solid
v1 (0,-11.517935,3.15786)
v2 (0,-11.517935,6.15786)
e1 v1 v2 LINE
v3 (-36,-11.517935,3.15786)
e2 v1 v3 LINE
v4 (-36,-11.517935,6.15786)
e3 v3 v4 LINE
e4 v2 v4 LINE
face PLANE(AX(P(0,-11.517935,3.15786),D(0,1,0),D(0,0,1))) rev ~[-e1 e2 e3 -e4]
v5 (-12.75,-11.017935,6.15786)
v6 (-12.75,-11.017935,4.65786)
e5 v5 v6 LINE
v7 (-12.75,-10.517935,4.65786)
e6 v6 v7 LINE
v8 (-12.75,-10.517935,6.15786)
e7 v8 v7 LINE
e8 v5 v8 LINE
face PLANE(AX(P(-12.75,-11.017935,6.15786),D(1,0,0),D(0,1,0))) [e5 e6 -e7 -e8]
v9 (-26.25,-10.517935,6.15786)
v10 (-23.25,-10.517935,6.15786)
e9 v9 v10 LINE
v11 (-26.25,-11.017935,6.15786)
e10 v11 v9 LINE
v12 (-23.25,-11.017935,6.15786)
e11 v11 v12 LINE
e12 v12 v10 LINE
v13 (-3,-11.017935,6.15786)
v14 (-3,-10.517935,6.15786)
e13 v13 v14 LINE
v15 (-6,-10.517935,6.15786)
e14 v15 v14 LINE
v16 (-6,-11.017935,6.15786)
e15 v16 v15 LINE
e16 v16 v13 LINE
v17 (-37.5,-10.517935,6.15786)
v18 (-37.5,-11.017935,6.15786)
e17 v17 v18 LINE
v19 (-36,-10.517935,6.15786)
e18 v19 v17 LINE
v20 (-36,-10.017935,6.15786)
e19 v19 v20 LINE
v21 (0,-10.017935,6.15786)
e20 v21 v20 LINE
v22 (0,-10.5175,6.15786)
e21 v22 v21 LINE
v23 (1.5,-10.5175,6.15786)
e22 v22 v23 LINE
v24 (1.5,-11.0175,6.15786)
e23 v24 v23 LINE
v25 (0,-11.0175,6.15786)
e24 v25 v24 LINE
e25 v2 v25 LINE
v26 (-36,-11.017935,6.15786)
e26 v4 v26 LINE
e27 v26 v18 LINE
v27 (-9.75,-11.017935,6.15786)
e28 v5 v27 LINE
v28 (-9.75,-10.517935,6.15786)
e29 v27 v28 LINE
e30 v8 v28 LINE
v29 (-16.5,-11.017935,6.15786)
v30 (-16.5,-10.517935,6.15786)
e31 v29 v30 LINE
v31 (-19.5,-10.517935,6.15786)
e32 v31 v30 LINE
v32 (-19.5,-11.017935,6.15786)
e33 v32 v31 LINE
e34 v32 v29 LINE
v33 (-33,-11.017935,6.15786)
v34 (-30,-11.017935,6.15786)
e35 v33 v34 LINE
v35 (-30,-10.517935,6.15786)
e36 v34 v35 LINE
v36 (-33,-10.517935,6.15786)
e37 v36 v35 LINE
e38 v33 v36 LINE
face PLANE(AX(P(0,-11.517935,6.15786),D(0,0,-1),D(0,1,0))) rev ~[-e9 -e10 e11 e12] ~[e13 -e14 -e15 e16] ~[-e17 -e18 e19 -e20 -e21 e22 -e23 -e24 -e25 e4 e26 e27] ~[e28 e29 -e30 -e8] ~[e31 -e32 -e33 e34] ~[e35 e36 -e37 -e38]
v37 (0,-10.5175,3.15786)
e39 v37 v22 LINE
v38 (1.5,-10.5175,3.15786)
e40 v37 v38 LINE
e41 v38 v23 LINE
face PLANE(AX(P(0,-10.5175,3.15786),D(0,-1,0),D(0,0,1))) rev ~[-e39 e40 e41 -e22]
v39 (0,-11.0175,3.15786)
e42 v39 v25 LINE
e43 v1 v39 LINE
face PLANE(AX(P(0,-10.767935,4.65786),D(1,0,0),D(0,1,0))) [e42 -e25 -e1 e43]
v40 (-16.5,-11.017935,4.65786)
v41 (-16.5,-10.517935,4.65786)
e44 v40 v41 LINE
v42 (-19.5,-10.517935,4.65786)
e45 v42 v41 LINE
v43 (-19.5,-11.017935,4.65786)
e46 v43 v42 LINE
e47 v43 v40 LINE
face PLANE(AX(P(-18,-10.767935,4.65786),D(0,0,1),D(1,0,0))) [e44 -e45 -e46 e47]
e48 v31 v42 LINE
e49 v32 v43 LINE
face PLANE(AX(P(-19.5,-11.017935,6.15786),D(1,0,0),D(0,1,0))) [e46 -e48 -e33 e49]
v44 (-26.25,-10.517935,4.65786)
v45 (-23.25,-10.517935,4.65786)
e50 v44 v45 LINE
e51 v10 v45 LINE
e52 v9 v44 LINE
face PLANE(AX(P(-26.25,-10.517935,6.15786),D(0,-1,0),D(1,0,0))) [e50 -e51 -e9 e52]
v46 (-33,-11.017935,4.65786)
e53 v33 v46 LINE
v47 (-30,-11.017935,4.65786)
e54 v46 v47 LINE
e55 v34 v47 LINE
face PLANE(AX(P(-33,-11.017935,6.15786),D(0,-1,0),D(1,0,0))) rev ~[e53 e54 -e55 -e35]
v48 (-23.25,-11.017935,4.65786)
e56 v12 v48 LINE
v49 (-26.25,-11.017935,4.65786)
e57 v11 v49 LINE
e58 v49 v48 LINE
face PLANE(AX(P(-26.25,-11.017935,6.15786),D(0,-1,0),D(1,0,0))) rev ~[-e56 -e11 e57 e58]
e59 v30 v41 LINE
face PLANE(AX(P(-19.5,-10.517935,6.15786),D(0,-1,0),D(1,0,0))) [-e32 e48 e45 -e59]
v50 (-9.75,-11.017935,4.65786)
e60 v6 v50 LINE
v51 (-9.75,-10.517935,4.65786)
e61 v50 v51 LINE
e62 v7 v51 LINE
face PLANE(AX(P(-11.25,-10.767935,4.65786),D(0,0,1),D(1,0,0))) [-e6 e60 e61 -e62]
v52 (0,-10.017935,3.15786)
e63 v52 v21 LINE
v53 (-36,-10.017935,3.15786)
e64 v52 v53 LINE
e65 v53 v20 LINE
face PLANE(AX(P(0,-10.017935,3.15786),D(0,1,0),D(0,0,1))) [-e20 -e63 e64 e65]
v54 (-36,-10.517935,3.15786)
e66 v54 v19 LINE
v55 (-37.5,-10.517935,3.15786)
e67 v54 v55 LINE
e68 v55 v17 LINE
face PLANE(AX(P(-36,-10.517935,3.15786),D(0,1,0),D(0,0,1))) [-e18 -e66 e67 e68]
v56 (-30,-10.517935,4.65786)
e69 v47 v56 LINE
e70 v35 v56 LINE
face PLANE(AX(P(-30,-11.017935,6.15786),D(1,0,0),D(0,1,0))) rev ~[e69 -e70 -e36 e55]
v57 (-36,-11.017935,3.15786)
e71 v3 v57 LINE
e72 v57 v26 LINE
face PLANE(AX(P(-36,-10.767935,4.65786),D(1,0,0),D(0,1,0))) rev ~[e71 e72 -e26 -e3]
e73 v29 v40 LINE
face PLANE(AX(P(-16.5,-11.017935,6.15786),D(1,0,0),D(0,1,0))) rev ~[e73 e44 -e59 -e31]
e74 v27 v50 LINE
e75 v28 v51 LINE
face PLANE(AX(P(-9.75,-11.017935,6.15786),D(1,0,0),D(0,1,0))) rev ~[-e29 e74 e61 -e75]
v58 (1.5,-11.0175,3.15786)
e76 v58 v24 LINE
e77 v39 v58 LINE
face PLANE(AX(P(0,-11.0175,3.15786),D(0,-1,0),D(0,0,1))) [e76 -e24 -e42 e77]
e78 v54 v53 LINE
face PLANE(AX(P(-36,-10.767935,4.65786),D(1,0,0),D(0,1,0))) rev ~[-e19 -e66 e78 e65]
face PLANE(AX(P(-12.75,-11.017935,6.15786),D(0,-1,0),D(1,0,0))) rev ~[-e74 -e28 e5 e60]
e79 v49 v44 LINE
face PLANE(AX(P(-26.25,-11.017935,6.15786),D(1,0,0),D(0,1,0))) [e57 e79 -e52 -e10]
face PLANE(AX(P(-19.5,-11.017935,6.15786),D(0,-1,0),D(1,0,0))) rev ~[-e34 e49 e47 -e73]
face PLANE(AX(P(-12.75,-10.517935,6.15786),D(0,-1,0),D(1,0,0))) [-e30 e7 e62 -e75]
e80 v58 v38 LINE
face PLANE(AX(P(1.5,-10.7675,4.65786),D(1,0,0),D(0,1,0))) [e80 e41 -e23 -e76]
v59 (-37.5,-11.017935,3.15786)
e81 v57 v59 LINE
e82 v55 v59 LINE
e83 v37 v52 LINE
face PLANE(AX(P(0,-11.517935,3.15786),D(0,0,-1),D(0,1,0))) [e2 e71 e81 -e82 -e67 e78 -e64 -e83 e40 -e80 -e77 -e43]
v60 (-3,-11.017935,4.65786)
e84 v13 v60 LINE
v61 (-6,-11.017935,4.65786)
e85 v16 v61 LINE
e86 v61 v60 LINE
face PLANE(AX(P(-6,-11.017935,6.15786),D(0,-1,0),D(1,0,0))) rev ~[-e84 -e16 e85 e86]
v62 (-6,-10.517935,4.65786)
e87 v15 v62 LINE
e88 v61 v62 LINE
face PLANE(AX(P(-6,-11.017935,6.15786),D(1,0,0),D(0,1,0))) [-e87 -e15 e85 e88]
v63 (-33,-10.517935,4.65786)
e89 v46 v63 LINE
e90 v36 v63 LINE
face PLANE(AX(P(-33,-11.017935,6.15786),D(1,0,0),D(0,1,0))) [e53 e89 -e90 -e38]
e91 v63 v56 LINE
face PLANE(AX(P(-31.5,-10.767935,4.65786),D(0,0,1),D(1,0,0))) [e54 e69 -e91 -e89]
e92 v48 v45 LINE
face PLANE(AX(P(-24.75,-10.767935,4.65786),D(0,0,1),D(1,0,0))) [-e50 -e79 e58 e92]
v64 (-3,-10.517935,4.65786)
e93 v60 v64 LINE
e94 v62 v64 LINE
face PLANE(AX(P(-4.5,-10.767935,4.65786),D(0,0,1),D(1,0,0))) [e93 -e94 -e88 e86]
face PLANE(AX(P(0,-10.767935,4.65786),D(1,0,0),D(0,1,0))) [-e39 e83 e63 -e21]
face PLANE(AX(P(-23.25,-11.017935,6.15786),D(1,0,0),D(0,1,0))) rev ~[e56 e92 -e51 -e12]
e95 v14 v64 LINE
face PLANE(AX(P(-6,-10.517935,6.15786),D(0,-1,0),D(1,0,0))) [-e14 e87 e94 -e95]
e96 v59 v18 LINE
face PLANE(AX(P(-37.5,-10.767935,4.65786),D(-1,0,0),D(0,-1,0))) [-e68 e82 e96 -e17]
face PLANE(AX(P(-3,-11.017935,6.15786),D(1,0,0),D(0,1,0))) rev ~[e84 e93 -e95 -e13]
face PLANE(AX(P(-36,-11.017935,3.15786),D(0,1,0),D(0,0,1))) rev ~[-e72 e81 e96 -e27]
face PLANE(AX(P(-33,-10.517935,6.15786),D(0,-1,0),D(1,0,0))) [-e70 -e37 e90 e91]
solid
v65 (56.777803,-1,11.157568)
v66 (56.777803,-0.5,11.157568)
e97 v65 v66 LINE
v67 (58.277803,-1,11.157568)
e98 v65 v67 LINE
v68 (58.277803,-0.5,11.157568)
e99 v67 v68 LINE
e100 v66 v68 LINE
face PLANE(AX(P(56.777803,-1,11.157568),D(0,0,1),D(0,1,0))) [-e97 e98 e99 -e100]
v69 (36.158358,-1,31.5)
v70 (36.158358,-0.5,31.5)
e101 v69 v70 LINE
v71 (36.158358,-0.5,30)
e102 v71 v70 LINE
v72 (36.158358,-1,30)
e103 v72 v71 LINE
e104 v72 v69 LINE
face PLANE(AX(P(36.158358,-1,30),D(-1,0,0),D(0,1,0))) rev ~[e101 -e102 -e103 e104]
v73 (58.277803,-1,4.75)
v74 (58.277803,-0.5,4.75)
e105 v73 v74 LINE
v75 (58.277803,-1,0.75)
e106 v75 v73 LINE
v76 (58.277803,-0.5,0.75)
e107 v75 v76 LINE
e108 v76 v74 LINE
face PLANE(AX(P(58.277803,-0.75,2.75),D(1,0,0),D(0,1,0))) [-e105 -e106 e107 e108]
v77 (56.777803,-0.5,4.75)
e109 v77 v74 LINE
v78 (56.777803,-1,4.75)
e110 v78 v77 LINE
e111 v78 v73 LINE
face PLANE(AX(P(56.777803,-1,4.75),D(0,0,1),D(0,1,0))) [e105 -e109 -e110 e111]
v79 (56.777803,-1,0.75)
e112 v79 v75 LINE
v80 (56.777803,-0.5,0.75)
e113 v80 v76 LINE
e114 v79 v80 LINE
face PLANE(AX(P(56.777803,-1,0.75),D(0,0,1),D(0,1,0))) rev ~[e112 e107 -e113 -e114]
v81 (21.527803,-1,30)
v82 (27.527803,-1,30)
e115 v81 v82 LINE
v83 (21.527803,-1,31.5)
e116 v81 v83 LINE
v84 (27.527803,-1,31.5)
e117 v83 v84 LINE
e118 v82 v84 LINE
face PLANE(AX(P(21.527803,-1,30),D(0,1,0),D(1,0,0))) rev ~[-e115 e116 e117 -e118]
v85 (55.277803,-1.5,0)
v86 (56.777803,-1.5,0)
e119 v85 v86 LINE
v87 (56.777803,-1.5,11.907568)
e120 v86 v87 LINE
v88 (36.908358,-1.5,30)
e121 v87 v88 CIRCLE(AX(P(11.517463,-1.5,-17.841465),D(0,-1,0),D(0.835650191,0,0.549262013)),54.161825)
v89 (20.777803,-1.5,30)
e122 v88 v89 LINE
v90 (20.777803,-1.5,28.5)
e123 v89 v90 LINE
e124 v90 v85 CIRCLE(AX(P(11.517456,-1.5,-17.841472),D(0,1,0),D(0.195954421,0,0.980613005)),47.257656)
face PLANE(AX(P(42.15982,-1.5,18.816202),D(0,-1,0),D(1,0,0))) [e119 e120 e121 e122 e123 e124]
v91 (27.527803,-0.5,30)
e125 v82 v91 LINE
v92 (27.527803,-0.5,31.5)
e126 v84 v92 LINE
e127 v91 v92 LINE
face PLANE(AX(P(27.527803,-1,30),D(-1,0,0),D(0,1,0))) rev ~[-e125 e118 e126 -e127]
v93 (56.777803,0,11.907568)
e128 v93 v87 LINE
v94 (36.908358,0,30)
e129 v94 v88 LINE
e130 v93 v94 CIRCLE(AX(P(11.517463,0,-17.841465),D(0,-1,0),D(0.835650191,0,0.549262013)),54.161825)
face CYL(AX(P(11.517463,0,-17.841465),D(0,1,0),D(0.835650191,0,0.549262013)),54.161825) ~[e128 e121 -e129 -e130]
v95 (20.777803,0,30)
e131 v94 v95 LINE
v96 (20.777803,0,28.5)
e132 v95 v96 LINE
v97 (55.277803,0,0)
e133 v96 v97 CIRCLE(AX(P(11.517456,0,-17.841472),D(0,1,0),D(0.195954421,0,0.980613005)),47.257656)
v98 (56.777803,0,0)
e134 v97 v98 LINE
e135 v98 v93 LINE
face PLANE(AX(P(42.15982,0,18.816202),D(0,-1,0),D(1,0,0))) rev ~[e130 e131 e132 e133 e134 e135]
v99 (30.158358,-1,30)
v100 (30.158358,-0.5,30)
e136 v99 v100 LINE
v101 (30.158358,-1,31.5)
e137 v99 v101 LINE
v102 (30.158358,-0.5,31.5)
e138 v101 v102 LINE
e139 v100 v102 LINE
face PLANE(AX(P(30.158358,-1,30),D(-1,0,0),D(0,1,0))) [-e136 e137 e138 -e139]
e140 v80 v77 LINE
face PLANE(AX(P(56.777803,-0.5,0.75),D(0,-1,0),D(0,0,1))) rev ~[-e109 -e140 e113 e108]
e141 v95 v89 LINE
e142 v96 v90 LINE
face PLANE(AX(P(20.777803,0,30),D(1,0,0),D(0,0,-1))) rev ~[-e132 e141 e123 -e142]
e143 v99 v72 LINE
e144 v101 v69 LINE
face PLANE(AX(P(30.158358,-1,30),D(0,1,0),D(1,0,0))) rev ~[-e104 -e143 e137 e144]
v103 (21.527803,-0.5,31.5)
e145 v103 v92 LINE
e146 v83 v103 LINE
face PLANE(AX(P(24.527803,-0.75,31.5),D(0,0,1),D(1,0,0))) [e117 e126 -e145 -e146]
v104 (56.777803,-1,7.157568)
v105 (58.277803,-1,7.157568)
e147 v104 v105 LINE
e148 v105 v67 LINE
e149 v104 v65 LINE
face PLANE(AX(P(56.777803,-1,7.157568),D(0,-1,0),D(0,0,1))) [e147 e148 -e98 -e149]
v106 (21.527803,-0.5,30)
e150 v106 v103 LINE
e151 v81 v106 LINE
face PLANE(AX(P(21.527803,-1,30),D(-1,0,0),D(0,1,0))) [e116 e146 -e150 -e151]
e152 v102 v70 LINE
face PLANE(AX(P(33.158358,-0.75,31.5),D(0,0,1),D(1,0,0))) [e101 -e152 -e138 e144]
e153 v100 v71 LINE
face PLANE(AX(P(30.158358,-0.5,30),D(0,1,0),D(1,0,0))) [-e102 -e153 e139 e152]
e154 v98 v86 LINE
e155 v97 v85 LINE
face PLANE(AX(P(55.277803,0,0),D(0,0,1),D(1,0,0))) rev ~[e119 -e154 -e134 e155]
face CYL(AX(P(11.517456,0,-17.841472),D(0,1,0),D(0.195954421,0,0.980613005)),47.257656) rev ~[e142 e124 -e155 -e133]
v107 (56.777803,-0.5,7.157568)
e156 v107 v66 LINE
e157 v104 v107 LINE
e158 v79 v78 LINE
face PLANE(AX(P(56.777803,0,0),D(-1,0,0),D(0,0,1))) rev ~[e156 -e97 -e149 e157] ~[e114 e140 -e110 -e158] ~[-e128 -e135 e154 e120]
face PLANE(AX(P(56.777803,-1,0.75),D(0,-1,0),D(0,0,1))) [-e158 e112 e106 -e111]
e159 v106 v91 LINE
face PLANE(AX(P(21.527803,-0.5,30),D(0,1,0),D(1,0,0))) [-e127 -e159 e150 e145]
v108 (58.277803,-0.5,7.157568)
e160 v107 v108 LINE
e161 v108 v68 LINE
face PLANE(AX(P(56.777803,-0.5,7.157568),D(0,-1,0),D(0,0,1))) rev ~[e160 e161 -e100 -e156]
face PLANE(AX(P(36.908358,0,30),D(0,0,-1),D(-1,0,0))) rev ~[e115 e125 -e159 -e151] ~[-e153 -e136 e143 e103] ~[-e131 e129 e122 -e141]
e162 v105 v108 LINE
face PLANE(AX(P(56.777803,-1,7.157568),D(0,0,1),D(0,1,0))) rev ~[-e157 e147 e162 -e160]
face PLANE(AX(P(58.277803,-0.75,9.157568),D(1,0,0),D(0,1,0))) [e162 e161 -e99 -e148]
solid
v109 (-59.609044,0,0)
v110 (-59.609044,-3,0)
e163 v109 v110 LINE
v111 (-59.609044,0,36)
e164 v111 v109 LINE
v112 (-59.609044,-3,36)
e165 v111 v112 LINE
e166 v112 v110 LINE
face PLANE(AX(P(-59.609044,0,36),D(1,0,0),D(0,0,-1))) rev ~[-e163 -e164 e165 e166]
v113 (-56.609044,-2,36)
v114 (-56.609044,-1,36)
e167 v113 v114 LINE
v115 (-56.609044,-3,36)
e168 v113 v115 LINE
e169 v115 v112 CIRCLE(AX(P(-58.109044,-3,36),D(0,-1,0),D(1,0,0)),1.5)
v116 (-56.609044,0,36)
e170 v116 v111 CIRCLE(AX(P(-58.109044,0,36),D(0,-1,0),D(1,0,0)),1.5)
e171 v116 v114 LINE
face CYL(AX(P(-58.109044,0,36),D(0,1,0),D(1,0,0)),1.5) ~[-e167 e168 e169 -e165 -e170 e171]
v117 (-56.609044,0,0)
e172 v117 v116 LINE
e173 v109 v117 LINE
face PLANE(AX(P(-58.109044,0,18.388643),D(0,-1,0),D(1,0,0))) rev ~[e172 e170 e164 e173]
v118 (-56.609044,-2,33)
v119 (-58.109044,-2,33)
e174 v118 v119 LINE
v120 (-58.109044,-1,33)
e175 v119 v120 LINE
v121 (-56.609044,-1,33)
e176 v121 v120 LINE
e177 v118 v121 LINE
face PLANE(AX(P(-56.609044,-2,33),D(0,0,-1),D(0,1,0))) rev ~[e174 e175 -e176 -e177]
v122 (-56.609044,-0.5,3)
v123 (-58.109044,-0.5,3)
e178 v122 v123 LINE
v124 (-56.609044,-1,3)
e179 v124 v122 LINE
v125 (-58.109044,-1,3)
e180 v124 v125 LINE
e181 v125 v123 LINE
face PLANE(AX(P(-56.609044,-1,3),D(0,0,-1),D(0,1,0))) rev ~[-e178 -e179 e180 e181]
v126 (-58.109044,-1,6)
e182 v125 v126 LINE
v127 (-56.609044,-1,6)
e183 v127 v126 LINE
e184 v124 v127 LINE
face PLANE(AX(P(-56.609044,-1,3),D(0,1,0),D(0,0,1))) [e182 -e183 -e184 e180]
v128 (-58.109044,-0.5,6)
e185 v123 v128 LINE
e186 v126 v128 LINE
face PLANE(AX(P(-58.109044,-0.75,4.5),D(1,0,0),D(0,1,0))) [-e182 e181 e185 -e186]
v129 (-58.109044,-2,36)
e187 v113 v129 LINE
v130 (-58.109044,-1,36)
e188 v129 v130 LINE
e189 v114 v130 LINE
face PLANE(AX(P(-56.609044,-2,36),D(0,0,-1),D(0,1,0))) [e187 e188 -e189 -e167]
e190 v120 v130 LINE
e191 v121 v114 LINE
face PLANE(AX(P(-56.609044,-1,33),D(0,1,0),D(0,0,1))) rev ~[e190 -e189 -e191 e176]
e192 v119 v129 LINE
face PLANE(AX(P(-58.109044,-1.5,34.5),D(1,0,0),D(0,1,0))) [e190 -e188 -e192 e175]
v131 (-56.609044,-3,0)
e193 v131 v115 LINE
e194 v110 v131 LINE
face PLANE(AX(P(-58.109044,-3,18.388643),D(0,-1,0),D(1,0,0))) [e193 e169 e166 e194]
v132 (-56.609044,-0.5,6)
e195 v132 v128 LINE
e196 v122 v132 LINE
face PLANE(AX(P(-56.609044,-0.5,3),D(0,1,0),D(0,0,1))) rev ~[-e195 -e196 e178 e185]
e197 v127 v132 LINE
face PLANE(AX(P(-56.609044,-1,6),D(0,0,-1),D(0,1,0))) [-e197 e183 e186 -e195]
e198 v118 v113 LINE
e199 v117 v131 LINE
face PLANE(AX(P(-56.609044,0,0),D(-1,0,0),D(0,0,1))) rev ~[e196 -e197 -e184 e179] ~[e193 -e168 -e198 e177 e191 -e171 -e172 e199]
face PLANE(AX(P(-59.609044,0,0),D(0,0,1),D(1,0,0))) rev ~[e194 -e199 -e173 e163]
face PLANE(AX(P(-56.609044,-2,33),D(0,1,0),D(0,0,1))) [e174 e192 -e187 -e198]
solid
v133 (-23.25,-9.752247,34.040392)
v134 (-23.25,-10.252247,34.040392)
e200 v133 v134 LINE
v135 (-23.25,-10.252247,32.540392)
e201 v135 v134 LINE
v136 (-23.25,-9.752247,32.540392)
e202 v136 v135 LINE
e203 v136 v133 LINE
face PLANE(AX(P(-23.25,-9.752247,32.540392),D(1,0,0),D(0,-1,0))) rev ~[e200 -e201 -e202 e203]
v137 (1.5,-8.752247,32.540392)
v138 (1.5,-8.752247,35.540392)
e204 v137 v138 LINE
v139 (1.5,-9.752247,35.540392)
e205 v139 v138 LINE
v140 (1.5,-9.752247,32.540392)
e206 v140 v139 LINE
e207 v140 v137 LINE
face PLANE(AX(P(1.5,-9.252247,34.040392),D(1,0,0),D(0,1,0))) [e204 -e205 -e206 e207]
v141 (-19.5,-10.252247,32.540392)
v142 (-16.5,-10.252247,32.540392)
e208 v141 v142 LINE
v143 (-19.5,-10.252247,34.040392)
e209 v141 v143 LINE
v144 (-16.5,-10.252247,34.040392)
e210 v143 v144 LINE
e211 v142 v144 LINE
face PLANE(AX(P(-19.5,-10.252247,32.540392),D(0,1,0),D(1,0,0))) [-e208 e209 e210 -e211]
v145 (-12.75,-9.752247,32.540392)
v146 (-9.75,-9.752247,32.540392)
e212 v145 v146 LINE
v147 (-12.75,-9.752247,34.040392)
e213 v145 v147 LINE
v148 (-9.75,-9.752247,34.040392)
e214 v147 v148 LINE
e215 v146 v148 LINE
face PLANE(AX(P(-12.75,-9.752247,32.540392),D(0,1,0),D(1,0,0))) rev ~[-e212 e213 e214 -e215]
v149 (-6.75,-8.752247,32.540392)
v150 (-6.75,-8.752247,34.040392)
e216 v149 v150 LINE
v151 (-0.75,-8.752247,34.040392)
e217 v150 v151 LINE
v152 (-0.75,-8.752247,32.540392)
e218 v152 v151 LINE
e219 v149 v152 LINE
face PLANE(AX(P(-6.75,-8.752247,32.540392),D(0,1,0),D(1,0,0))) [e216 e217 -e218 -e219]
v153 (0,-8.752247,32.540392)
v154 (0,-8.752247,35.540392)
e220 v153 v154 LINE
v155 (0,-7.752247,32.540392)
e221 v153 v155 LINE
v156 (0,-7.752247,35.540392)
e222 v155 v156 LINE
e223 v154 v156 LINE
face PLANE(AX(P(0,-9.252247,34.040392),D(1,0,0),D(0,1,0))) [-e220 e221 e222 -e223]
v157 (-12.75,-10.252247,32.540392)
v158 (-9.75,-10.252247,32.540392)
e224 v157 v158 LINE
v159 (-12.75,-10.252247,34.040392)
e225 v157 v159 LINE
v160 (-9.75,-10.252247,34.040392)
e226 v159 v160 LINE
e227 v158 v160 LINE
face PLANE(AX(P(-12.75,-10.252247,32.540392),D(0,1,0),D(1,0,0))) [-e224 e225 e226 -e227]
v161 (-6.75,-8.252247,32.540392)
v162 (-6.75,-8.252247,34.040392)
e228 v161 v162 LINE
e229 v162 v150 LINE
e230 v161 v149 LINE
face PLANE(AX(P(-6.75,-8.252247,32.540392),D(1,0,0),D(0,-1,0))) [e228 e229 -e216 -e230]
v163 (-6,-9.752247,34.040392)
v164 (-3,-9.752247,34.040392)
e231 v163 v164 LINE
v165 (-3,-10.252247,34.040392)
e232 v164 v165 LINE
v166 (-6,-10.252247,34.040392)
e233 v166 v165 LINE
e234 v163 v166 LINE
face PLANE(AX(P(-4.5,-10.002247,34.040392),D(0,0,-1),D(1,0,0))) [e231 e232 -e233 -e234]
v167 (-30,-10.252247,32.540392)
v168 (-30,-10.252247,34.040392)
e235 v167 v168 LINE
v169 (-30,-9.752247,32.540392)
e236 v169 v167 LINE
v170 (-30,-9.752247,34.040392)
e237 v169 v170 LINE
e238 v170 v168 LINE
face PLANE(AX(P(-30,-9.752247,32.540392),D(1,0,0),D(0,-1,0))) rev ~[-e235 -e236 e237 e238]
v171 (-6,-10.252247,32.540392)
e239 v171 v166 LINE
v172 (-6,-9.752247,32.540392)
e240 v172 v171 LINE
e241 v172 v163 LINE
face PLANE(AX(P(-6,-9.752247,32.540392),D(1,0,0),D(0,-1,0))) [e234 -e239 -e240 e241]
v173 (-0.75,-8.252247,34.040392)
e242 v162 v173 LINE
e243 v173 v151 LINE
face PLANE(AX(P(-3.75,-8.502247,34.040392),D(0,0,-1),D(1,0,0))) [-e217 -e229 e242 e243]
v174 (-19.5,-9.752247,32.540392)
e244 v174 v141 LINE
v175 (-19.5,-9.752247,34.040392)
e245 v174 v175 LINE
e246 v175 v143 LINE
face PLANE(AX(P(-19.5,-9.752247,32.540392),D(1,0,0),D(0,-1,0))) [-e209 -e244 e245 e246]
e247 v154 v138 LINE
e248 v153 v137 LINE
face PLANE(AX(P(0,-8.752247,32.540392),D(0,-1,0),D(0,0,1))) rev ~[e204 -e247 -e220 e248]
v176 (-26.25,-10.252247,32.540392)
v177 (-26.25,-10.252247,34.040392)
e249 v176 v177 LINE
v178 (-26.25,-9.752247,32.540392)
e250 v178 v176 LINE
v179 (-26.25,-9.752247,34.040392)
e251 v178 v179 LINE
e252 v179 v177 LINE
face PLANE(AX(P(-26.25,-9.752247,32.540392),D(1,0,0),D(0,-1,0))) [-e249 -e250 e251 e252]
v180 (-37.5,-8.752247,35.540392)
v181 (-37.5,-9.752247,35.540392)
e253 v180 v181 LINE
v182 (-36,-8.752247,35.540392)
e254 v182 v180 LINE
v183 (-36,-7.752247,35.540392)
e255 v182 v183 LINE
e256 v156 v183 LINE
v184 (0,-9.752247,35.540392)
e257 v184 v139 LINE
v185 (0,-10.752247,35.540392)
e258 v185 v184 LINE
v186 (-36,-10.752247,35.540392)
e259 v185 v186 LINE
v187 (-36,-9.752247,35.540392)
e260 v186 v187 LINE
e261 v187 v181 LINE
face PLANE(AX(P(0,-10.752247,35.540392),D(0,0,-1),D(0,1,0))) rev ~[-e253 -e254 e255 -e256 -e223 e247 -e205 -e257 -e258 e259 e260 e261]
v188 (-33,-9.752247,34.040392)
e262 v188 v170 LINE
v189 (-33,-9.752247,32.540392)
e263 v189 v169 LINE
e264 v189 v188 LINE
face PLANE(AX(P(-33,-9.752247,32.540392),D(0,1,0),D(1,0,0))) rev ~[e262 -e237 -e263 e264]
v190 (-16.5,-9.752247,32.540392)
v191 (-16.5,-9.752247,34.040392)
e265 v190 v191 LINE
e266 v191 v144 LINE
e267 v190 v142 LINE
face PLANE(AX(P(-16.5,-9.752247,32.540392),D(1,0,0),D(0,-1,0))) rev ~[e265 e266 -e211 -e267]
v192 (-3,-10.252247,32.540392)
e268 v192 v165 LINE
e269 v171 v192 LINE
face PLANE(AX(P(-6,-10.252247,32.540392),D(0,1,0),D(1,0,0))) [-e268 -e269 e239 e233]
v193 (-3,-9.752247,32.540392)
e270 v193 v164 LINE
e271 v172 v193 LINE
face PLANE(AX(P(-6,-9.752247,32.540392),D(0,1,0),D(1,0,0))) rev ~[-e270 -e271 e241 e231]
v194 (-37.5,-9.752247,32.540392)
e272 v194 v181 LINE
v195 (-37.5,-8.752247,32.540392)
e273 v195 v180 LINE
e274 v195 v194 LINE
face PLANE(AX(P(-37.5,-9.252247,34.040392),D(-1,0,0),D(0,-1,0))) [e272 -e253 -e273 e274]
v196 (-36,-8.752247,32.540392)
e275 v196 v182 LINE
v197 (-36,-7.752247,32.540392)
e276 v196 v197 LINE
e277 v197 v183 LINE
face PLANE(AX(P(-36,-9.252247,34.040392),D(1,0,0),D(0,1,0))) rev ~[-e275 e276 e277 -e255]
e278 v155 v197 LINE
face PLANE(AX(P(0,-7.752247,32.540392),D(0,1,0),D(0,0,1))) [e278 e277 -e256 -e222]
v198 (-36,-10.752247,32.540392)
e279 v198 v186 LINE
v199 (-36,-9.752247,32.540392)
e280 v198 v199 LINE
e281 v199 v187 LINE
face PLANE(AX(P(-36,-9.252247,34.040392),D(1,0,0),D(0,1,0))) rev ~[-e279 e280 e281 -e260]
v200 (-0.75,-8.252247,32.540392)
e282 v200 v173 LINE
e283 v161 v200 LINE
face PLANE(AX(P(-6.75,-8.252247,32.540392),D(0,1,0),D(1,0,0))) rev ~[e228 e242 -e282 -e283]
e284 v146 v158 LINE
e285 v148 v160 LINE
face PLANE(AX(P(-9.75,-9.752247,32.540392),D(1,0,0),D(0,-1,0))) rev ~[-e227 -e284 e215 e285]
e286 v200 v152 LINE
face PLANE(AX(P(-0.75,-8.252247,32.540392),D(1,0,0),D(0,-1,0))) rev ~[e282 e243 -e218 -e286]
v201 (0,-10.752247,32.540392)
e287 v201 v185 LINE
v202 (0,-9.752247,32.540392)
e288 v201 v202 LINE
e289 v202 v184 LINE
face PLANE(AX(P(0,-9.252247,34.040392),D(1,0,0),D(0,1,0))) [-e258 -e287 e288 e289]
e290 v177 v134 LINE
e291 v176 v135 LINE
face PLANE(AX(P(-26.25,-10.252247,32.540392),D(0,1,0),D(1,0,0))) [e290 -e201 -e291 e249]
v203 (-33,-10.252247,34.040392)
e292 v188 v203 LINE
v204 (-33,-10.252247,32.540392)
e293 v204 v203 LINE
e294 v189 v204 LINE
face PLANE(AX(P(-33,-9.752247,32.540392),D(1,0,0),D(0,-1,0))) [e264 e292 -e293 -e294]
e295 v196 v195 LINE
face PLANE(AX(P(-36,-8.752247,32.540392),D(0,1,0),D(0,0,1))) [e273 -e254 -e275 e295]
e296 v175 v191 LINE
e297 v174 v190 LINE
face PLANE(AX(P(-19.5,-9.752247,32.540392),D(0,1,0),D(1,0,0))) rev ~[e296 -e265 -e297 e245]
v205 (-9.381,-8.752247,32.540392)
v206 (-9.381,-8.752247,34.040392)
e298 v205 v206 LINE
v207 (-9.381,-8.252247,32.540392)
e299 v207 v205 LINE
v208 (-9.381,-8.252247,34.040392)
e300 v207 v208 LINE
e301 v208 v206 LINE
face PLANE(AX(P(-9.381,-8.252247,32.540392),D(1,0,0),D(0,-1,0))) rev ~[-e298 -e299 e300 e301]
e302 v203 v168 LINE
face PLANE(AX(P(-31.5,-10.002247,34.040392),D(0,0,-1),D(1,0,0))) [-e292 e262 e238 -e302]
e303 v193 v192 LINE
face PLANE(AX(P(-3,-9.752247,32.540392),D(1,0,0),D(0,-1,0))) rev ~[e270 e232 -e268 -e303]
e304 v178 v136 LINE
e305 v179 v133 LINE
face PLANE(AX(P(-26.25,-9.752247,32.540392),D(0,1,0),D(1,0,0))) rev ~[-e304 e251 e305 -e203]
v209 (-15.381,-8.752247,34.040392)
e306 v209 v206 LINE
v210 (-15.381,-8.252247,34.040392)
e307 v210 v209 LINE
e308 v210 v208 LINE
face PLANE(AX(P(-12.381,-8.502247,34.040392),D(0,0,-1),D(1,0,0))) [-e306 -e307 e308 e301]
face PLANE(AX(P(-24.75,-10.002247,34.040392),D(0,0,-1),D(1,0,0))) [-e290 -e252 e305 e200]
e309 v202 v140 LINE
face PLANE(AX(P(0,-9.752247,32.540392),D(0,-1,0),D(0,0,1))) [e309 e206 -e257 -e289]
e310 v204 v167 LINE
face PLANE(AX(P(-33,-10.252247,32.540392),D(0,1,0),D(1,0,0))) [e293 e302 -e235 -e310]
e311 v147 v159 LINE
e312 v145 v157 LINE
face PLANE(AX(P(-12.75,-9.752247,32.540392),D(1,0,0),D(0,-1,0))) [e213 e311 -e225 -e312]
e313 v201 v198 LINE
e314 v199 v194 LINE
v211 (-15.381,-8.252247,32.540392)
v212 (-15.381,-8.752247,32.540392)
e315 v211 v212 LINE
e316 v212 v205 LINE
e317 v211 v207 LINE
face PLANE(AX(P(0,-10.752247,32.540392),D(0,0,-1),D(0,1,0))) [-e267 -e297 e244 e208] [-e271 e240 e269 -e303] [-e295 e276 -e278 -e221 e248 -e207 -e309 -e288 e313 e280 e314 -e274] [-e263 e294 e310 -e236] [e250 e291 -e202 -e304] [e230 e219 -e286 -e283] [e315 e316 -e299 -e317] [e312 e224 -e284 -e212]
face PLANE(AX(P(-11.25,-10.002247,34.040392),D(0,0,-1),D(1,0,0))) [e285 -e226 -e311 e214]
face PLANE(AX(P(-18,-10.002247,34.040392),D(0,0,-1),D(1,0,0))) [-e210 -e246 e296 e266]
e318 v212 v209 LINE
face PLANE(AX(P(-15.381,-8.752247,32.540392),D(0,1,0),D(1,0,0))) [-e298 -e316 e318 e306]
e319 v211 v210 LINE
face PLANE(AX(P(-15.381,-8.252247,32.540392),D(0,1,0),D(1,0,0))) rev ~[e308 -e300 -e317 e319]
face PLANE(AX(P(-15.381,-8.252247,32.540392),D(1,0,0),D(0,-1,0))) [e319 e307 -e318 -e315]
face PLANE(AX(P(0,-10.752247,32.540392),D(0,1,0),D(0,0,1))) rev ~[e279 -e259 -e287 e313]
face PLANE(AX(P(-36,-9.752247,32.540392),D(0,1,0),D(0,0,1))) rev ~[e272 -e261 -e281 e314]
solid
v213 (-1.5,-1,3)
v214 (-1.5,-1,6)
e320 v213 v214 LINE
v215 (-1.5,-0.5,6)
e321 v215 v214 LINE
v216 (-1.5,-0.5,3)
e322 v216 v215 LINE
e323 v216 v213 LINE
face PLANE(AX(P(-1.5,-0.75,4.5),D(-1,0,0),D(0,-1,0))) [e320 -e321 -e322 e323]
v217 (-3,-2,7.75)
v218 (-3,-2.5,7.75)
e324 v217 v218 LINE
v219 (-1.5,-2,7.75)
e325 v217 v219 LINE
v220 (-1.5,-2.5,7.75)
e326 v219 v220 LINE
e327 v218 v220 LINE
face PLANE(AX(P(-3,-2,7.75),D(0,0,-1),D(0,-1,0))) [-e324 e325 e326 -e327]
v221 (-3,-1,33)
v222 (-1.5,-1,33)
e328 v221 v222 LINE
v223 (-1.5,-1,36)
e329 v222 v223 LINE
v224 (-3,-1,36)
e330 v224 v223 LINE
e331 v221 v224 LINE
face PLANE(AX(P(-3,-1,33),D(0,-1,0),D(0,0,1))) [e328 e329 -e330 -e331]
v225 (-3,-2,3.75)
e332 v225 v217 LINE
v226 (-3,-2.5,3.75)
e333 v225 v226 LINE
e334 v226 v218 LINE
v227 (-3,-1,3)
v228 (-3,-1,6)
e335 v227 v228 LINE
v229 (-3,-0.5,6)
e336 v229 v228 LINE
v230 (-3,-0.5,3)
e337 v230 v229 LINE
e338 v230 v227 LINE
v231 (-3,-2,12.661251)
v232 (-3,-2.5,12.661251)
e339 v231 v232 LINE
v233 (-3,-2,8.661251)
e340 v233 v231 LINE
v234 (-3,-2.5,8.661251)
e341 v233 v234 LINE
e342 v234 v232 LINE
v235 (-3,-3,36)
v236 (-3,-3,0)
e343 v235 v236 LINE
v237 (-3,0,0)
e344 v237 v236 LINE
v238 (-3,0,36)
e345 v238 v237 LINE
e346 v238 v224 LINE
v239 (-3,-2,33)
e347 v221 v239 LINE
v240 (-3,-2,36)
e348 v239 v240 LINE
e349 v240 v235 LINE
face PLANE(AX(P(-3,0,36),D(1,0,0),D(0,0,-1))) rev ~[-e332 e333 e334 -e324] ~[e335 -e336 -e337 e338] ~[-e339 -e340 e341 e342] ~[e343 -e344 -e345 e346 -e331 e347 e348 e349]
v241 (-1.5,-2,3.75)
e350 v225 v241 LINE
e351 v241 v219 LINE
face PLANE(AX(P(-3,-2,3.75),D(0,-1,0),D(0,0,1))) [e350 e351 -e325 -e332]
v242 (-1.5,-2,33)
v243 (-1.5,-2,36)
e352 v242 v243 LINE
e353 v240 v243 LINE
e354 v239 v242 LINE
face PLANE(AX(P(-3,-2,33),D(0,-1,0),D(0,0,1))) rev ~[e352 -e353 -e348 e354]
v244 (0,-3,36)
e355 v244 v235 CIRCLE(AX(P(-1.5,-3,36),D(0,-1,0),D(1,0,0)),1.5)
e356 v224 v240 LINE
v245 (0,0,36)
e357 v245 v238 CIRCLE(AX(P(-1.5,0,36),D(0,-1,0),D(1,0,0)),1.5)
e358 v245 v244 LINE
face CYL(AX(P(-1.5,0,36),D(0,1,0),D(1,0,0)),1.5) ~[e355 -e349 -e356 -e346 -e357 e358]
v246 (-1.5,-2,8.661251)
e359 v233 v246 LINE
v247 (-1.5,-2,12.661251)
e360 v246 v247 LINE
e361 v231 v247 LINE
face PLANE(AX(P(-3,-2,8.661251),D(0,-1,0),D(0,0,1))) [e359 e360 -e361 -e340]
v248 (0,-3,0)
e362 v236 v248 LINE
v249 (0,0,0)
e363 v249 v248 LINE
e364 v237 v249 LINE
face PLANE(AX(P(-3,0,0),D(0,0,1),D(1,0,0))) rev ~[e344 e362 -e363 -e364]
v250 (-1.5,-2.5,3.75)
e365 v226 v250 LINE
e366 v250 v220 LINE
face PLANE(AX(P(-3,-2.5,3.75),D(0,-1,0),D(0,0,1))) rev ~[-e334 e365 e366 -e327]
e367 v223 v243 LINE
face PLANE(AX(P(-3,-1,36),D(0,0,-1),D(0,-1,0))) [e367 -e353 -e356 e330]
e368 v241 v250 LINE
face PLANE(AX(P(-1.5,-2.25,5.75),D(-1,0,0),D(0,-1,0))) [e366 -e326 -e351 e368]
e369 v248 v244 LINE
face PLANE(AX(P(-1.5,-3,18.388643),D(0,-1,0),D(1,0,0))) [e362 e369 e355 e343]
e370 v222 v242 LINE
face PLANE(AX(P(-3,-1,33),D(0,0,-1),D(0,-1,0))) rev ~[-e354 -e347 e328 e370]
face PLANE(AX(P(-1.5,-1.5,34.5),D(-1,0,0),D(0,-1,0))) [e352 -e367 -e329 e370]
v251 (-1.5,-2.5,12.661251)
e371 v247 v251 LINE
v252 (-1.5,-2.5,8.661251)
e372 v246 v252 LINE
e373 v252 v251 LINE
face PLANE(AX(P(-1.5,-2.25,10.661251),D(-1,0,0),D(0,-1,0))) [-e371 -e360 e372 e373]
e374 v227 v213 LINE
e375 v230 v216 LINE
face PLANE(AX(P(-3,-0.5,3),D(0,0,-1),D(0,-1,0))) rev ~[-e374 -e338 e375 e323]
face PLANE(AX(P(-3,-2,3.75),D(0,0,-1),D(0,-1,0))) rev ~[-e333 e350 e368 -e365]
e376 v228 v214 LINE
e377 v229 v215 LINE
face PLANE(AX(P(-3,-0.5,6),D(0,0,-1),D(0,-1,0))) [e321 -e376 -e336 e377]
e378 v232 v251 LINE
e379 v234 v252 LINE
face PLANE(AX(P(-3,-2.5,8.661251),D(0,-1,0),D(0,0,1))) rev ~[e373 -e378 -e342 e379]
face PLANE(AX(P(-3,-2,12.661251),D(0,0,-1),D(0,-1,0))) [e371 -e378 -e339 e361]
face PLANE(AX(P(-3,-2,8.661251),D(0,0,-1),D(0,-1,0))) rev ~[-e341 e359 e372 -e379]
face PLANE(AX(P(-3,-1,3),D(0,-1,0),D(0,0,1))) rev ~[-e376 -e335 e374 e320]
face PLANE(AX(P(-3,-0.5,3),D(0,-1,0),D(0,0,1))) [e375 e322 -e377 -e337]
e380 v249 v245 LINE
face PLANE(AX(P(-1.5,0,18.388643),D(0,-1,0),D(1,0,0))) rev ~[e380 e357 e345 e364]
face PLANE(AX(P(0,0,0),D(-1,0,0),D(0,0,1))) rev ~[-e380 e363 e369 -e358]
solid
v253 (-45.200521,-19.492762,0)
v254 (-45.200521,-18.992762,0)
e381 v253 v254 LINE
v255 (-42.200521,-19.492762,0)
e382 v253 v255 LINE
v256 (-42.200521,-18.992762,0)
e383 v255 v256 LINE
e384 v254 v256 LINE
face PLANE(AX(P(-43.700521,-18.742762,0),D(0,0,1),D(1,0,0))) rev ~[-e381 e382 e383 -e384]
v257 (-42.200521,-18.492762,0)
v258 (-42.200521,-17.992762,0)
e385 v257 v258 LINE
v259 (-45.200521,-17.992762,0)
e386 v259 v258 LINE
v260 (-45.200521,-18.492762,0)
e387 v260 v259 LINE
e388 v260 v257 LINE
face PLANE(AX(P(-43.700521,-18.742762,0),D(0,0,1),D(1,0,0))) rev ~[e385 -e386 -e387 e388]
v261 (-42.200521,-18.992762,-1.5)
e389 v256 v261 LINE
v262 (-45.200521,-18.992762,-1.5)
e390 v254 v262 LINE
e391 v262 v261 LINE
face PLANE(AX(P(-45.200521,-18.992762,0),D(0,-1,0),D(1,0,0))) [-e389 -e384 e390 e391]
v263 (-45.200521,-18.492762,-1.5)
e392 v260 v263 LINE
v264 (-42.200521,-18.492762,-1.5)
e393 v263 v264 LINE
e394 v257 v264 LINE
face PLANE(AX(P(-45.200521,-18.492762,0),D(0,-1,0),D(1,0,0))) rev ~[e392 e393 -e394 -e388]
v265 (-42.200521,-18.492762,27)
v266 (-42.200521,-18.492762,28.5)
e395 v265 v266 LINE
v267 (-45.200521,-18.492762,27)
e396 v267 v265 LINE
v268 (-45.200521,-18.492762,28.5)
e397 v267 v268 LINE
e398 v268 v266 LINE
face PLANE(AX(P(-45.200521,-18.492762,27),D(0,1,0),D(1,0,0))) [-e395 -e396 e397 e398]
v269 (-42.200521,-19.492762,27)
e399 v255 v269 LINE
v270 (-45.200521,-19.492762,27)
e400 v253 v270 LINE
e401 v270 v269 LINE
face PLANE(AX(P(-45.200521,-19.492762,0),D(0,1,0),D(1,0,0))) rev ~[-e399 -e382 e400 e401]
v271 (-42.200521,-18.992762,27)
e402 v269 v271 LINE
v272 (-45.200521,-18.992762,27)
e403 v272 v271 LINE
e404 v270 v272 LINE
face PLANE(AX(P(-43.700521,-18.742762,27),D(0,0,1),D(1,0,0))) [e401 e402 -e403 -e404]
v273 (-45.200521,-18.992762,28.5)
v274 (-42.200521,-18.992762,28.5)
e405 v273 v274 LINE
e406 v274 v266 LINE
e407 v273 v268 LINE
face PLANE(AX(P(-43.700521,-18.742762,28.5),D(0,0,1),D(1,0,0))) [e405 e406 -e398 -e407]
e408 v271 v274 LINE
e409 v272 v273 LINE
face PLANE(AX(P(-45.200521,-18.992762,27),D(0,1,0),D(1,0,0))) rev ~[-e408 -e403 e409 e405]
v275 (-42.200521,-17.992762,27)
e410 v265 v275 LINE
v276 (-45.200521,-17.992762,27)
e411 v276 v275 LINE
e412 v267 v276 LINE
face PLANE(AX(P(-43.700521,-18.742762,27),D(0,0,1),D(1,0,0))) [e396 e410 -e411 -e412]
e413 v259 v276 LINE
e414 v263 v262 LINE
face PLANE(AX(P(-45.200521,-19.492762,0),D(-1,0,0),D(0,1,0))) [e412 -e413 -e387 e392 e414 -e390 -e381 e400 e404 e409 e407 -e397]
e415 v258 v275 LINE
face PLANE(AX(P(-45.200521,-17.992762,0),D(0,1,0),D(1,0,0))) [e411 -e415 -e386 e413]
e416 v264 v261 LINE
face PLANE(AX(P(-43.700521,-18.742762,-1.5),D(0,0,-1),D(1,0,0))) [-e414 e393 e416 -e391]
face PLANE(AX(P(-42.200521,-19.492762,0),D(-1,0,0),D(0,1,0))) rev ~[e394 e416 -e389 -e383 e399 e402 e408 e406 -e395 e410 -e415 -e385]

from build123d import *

# Parameters (mm, degrees)
F1_DEPTH  = 3
F2_W      = 1
F2_H      = 3
F3_DEPTH  = 1.5
F4_W      = 0.5
F4_H      = 3
F5_DEPTH  = 1.5
F6_W      = 1.5
F6_H      = 3
F7_DEPTH  = 36
F8_W      = 0.5
F8_H      = 3
F9_DEPTH  = 1.5
F10_W     = 0.5
F10_H     = 3
F11_DEPTH = 1.5
F12_W     = 3
F12_H     = 0.5
F13_DEPTH = 1.5
F14_W     = 3
F14_H     = 3
F15_DEPTH = 36
F16_W     = 1
F16_H     = 3
F17_DEPTH = 1.5
F18_W     = 1
F18_H     = 3
F19_DEPTH = 1.5
F20_W     = 3
F20_H     = 0.5
F21_DEPTH = 1.5
F23_DEPTH = 3
F24_W     = 1
F24_H     = 3
F25_DEPTH = 1.5
F26_W     = 0.5
F26_H     = 3
F27_DEPTH = 1.5
F28_W     = 3
F28_H     = 1.5
F29_DEPTH = 27
F30_W     = 3
F30_H     = 0.5
F31_DEPTH = 1.5
F32_W     = 3
F32_H     = 0.5
F33_DEPTH = 1.5
F35_DEPTH = 1.5
F36_W     = 6
F36_H     = 0.5
F37_DEPTH = 1.5
F38_W     = 0.5
F38_H     = 4
F39_DEPTH = 1.5
F40_W     = 0.5
F40_H     = 4
F41_DEPTH = 1.5
F42_W     = 6
F42_H     = 0.5
F43_DEPTH = 1.5


with BuildPart() as f1:
    # F0 (on Front) → F1 (new body)
    with BuildSketch(Plane.XZ):
        with BuildLine():
            Line((-3, 0), (0, 0))
            Line((0, 0), (0, 36))
            ThreePointArc((0, 36), (-1.5, 37.5), (-3, 36))
            Line((-3, 36), (-3, 0))
        make_face()
    extrude(amount=F1_DEPTH)

    # F2 (on face) → F3 (cut)
    with BuildSketch(Plane(origin=(-3, 0, 0), x_dir=(0, -1, 0), z_dir=(-1, 0, 0))):
        with Locations((1.5, 34.5)):
            Rectangle(F2_W, F2_H)
    extrude(amount=-F3_DEPTH, mode=Mode.SUBTRACT)

    # F4 (on face) → F5 (cut)
    with BuildSketch(Plane(origin=(-3, 0, 0), x_dir=(0, -1, 0), z_dir=(-1, 0, 0))):
        with Locations((0.75, 4.5)):
            Rectangle(F4_W, F4_H)
    extrude(amount=-F5_DEPTH, mode=Mode.SUBTRACT)

    # F40 (on face) → F41 (cut)
    with BuildSketch(Plane(origin=(-3, 0, 0), x_dir=(0, -1, 0), z_dir=(-1, 0, 0))):
        with Locations((2.25, 5.75)):
            Rectangle(F40_W, F40_H)
        with Locations((2.25, 10.661251)):
            Rectangle(F40_W, F40_H)
    extrude(amount=-F41_DEPTH, mode=Mode.SUBTRACT)


with BuildPart() as f7:
    # F6 (on Right) → F7 (new body)
    with BuildSketch(Plane.YZ):
        with Locations((-10.767935, 4.65786)):
            Rectangle(F6_W, F6_H)
    extrude(amount=-F7_DEPTH)

    # F8 (on face) → F9 (join)
    with BuildSketch(Plane(origin=(-36, 0, 0), x_dir=(0, -1, 0), z_dir=(-1, 0, 0))):
        with Locations((10.767935, 4.65786)):
            Rectangle(F8_W, F8_H)
    extrude(amount=F9_DEPTH)

    # F10 (on face) → F11 (join)
    with BuildSketch(Plane.YZ):
        with Locations((-10.7675, 4.65786)):
            Rectangle(F10_W, F10_H)
    extrude(amount=F11_DEPTH)

    # F12 (on face) → F13 (cut)
    with BuildSketch(Plane.XY.offset(6.15786)):
        with Locations((-31.5, -10.767935)):
            Rectangle(F12_W, F12_H)
        with Locations((-24.75, -10.767935)):
            Rectangle(F12_W, F12_H)
        with Locations((-18, -10.767935)):
            Rectangle(F12_W, F12_H)
        with Locations((-11.25, -10.767935)):
            Rectangle(F12_W, F12_H)
        with Locations((-4.5, -10.767935)):
            Rectangle(F12_W, F12_H)
    extrude(amount=-F13_DEPTH, mode=Mode.SUBTRACT)


with BuildPart() as f15:
    # F14 (on Right) → F15 (new body)
    with BuildSketch(Plane.YZ):
        with Locations((-9.252247, 34.040392)):
            Rectangle(F14_W, F14_H)
    extrude(amount=-F15_DEPTH)

    # F16 (on face) → F17 (join)
    with BuildSketch(Plane(origin=(-36, 0, 0), x_dir=(0, -1, 0), z_dir=(-1, 0, 0))):
        with Locations((9.252247, 34.040392)):
            Rectangle(F16_W, F16_H)
    extrude(amount=F17_DEPTH)

    # F18 (on face) → F19 (join)
    with BuildSketch(Plane.YZ):
        with Locations((-9.252247, 34.040392)):
            Rectangle(F18_W, F18_H)
    extrude(amount=F19_DEPTH)

    # F20 (on face) → F21 (cut)
    with BuildSketch(Plane(origin=(0, 0, 32.540392), x_dir=(1, 0, 0), z_dir=(0, 0, -1))):
        with Locations((-4.5, 10.002247)):
            Rectangle(F20_W, F20_H)
        with Locations((-11.25, 10.002247)):
            Rectangle(F20_W, F20_H)
        with Locations((-18, 10.002247)):
            Rectangle(F20_W, F20_H)
        with Locations((-24.75, 10.002247)):
            Rectangle(F20_W, F20_H)
        with Locations((-31.5, 10.002247)):
            Rectangle(F20_W, F20_H)
    extrude(amount=-F21_DEPTH, mode=Mode.SUBTRACT)

    # F42 (on face) → F43 (cut)
    with BuildSketch(Plane(origin=(0, 0, 32.540392), x_dir=(1, 0, 0), z_dir=(0, 0, -1))):
        with Locations((-3.75, 8.502247)):
            Rectangle(F42_W, F42_H)
        with Locations((-12.381, 8.502247)):
            Rectangle(F42_W, F42_H)
    extrude(amount=-F43_DEPTH, mode=Mode.SUBTRACT)


with BuildPart() as f23:
    # F22 (on Front) → F23 (new body)
    with BuildSketch(Plane.XZ):
        with BuildLine():
            Line((-59.609044, 36), (-59.609044, 0))
            Line((-59.609044, 0), (-56.609044, 0))
            Line((-56.609044, 0), (-56.609044, 36))
            ThreePointArc((-56.609044, 36), (-58.109044, 37.5), (-59.609044, 36))
        make_face()
    extrude(amount=F23_DEPTH)

    # F24 (on face) → F25 (cut)
    with BuildSketch(Plane.YZ.offset(-56.609044)):
        with Locations((-1.5, 34.5)):
            Rectangle(F24_W, F24_H)
    extrude(amount=-F25_DEPTH, mode=Mode.SUBTRACT)

    # F26 (on face) → F27 (cut)
    with BuildSketch(Plane.YZ.offset(-56.609044)):
        with Locations((-0.75, 4.5)):
            Rectangle(F26_W, F26_H)
    extrude(amount=-F27_DEPTH, mode=Mode.SUBTRACT)


with BuildPart() as f29:
    # F28 (on Top) → F29 (new body)
    with BuildSketch(Plane.XY):
        with Locations((-43.700521, -18.742762)):
            Rectangle(F28_W, F28_H)
    extrude(amount=F29_DEPTH)

    # F30 (on face) → F31 (join)
    with BuildSketch(Plane.XY.offset(27)):
        with Locations((-43.700521, -18.742762)):
            Rectangle(F30_W, F30_H)
    extrude(amount=F31_DEPTH)

    # F32 (on face) → F33 (join)
    with BuildSketch(Plane(origin=(0, 0, 0), x_dir=(1, 0, 0), z_dir=(0, 0, -1))):
        with Locations((-43.700521, 18.742762)):
            Rectangle(F32_W, F32_H)
    extrude(amount=F33_DEPTH)


with BuildPart() as f35:
    # F34 (on Front) → F35 (new body)
    with BuildSketch(Plane.XZ):
        with BuildLine():
            Line((36.908358, 30), (20.777803, 30))
            Line((20.777803, 30), (20.777803, 28.5))
            ThreePointArc((20.777803, 28.5), (41.614981, 18.592373), (55.277803, 0))
            Line((55.277803, 0), (56.777803, 0))
            Line((56.777803, 0), (56.777803, 11.907568))
            ThreePointArc((56.777803, 11.907568), (47.982971, 22.205633), (36.908358, 30))
        make_face()
    extrude(amount=F35_DEPTH)

    # F36 (on face) → F37 (join)
    with BuildSketch(Plane.XY.offset(30)):
        with Locations((24.527803, -0.75)):
            Rectangle(F36_W, F36_H)
        with Locations((33.158358, -0.75)):
            Rectangle(F36_W, F36_H)
    extrude(amount=F37_DEPTH)

    # F38 (on face) → F39 (join)
    with BuildSketch(Plane.YZ.offset(56.777803)):
        with Locations((-0.75, 2.75)):
            Rectangle(F38_W, F38_H)
        with Locations((-0.75, 9.157568)):
            Rectangle(F38_W, F38_H)
    extrude(amount=F39_DEPTH)


solid = Compound([f1.part, f7.part, f15.part, f23.part, f29.part, f35.part])
